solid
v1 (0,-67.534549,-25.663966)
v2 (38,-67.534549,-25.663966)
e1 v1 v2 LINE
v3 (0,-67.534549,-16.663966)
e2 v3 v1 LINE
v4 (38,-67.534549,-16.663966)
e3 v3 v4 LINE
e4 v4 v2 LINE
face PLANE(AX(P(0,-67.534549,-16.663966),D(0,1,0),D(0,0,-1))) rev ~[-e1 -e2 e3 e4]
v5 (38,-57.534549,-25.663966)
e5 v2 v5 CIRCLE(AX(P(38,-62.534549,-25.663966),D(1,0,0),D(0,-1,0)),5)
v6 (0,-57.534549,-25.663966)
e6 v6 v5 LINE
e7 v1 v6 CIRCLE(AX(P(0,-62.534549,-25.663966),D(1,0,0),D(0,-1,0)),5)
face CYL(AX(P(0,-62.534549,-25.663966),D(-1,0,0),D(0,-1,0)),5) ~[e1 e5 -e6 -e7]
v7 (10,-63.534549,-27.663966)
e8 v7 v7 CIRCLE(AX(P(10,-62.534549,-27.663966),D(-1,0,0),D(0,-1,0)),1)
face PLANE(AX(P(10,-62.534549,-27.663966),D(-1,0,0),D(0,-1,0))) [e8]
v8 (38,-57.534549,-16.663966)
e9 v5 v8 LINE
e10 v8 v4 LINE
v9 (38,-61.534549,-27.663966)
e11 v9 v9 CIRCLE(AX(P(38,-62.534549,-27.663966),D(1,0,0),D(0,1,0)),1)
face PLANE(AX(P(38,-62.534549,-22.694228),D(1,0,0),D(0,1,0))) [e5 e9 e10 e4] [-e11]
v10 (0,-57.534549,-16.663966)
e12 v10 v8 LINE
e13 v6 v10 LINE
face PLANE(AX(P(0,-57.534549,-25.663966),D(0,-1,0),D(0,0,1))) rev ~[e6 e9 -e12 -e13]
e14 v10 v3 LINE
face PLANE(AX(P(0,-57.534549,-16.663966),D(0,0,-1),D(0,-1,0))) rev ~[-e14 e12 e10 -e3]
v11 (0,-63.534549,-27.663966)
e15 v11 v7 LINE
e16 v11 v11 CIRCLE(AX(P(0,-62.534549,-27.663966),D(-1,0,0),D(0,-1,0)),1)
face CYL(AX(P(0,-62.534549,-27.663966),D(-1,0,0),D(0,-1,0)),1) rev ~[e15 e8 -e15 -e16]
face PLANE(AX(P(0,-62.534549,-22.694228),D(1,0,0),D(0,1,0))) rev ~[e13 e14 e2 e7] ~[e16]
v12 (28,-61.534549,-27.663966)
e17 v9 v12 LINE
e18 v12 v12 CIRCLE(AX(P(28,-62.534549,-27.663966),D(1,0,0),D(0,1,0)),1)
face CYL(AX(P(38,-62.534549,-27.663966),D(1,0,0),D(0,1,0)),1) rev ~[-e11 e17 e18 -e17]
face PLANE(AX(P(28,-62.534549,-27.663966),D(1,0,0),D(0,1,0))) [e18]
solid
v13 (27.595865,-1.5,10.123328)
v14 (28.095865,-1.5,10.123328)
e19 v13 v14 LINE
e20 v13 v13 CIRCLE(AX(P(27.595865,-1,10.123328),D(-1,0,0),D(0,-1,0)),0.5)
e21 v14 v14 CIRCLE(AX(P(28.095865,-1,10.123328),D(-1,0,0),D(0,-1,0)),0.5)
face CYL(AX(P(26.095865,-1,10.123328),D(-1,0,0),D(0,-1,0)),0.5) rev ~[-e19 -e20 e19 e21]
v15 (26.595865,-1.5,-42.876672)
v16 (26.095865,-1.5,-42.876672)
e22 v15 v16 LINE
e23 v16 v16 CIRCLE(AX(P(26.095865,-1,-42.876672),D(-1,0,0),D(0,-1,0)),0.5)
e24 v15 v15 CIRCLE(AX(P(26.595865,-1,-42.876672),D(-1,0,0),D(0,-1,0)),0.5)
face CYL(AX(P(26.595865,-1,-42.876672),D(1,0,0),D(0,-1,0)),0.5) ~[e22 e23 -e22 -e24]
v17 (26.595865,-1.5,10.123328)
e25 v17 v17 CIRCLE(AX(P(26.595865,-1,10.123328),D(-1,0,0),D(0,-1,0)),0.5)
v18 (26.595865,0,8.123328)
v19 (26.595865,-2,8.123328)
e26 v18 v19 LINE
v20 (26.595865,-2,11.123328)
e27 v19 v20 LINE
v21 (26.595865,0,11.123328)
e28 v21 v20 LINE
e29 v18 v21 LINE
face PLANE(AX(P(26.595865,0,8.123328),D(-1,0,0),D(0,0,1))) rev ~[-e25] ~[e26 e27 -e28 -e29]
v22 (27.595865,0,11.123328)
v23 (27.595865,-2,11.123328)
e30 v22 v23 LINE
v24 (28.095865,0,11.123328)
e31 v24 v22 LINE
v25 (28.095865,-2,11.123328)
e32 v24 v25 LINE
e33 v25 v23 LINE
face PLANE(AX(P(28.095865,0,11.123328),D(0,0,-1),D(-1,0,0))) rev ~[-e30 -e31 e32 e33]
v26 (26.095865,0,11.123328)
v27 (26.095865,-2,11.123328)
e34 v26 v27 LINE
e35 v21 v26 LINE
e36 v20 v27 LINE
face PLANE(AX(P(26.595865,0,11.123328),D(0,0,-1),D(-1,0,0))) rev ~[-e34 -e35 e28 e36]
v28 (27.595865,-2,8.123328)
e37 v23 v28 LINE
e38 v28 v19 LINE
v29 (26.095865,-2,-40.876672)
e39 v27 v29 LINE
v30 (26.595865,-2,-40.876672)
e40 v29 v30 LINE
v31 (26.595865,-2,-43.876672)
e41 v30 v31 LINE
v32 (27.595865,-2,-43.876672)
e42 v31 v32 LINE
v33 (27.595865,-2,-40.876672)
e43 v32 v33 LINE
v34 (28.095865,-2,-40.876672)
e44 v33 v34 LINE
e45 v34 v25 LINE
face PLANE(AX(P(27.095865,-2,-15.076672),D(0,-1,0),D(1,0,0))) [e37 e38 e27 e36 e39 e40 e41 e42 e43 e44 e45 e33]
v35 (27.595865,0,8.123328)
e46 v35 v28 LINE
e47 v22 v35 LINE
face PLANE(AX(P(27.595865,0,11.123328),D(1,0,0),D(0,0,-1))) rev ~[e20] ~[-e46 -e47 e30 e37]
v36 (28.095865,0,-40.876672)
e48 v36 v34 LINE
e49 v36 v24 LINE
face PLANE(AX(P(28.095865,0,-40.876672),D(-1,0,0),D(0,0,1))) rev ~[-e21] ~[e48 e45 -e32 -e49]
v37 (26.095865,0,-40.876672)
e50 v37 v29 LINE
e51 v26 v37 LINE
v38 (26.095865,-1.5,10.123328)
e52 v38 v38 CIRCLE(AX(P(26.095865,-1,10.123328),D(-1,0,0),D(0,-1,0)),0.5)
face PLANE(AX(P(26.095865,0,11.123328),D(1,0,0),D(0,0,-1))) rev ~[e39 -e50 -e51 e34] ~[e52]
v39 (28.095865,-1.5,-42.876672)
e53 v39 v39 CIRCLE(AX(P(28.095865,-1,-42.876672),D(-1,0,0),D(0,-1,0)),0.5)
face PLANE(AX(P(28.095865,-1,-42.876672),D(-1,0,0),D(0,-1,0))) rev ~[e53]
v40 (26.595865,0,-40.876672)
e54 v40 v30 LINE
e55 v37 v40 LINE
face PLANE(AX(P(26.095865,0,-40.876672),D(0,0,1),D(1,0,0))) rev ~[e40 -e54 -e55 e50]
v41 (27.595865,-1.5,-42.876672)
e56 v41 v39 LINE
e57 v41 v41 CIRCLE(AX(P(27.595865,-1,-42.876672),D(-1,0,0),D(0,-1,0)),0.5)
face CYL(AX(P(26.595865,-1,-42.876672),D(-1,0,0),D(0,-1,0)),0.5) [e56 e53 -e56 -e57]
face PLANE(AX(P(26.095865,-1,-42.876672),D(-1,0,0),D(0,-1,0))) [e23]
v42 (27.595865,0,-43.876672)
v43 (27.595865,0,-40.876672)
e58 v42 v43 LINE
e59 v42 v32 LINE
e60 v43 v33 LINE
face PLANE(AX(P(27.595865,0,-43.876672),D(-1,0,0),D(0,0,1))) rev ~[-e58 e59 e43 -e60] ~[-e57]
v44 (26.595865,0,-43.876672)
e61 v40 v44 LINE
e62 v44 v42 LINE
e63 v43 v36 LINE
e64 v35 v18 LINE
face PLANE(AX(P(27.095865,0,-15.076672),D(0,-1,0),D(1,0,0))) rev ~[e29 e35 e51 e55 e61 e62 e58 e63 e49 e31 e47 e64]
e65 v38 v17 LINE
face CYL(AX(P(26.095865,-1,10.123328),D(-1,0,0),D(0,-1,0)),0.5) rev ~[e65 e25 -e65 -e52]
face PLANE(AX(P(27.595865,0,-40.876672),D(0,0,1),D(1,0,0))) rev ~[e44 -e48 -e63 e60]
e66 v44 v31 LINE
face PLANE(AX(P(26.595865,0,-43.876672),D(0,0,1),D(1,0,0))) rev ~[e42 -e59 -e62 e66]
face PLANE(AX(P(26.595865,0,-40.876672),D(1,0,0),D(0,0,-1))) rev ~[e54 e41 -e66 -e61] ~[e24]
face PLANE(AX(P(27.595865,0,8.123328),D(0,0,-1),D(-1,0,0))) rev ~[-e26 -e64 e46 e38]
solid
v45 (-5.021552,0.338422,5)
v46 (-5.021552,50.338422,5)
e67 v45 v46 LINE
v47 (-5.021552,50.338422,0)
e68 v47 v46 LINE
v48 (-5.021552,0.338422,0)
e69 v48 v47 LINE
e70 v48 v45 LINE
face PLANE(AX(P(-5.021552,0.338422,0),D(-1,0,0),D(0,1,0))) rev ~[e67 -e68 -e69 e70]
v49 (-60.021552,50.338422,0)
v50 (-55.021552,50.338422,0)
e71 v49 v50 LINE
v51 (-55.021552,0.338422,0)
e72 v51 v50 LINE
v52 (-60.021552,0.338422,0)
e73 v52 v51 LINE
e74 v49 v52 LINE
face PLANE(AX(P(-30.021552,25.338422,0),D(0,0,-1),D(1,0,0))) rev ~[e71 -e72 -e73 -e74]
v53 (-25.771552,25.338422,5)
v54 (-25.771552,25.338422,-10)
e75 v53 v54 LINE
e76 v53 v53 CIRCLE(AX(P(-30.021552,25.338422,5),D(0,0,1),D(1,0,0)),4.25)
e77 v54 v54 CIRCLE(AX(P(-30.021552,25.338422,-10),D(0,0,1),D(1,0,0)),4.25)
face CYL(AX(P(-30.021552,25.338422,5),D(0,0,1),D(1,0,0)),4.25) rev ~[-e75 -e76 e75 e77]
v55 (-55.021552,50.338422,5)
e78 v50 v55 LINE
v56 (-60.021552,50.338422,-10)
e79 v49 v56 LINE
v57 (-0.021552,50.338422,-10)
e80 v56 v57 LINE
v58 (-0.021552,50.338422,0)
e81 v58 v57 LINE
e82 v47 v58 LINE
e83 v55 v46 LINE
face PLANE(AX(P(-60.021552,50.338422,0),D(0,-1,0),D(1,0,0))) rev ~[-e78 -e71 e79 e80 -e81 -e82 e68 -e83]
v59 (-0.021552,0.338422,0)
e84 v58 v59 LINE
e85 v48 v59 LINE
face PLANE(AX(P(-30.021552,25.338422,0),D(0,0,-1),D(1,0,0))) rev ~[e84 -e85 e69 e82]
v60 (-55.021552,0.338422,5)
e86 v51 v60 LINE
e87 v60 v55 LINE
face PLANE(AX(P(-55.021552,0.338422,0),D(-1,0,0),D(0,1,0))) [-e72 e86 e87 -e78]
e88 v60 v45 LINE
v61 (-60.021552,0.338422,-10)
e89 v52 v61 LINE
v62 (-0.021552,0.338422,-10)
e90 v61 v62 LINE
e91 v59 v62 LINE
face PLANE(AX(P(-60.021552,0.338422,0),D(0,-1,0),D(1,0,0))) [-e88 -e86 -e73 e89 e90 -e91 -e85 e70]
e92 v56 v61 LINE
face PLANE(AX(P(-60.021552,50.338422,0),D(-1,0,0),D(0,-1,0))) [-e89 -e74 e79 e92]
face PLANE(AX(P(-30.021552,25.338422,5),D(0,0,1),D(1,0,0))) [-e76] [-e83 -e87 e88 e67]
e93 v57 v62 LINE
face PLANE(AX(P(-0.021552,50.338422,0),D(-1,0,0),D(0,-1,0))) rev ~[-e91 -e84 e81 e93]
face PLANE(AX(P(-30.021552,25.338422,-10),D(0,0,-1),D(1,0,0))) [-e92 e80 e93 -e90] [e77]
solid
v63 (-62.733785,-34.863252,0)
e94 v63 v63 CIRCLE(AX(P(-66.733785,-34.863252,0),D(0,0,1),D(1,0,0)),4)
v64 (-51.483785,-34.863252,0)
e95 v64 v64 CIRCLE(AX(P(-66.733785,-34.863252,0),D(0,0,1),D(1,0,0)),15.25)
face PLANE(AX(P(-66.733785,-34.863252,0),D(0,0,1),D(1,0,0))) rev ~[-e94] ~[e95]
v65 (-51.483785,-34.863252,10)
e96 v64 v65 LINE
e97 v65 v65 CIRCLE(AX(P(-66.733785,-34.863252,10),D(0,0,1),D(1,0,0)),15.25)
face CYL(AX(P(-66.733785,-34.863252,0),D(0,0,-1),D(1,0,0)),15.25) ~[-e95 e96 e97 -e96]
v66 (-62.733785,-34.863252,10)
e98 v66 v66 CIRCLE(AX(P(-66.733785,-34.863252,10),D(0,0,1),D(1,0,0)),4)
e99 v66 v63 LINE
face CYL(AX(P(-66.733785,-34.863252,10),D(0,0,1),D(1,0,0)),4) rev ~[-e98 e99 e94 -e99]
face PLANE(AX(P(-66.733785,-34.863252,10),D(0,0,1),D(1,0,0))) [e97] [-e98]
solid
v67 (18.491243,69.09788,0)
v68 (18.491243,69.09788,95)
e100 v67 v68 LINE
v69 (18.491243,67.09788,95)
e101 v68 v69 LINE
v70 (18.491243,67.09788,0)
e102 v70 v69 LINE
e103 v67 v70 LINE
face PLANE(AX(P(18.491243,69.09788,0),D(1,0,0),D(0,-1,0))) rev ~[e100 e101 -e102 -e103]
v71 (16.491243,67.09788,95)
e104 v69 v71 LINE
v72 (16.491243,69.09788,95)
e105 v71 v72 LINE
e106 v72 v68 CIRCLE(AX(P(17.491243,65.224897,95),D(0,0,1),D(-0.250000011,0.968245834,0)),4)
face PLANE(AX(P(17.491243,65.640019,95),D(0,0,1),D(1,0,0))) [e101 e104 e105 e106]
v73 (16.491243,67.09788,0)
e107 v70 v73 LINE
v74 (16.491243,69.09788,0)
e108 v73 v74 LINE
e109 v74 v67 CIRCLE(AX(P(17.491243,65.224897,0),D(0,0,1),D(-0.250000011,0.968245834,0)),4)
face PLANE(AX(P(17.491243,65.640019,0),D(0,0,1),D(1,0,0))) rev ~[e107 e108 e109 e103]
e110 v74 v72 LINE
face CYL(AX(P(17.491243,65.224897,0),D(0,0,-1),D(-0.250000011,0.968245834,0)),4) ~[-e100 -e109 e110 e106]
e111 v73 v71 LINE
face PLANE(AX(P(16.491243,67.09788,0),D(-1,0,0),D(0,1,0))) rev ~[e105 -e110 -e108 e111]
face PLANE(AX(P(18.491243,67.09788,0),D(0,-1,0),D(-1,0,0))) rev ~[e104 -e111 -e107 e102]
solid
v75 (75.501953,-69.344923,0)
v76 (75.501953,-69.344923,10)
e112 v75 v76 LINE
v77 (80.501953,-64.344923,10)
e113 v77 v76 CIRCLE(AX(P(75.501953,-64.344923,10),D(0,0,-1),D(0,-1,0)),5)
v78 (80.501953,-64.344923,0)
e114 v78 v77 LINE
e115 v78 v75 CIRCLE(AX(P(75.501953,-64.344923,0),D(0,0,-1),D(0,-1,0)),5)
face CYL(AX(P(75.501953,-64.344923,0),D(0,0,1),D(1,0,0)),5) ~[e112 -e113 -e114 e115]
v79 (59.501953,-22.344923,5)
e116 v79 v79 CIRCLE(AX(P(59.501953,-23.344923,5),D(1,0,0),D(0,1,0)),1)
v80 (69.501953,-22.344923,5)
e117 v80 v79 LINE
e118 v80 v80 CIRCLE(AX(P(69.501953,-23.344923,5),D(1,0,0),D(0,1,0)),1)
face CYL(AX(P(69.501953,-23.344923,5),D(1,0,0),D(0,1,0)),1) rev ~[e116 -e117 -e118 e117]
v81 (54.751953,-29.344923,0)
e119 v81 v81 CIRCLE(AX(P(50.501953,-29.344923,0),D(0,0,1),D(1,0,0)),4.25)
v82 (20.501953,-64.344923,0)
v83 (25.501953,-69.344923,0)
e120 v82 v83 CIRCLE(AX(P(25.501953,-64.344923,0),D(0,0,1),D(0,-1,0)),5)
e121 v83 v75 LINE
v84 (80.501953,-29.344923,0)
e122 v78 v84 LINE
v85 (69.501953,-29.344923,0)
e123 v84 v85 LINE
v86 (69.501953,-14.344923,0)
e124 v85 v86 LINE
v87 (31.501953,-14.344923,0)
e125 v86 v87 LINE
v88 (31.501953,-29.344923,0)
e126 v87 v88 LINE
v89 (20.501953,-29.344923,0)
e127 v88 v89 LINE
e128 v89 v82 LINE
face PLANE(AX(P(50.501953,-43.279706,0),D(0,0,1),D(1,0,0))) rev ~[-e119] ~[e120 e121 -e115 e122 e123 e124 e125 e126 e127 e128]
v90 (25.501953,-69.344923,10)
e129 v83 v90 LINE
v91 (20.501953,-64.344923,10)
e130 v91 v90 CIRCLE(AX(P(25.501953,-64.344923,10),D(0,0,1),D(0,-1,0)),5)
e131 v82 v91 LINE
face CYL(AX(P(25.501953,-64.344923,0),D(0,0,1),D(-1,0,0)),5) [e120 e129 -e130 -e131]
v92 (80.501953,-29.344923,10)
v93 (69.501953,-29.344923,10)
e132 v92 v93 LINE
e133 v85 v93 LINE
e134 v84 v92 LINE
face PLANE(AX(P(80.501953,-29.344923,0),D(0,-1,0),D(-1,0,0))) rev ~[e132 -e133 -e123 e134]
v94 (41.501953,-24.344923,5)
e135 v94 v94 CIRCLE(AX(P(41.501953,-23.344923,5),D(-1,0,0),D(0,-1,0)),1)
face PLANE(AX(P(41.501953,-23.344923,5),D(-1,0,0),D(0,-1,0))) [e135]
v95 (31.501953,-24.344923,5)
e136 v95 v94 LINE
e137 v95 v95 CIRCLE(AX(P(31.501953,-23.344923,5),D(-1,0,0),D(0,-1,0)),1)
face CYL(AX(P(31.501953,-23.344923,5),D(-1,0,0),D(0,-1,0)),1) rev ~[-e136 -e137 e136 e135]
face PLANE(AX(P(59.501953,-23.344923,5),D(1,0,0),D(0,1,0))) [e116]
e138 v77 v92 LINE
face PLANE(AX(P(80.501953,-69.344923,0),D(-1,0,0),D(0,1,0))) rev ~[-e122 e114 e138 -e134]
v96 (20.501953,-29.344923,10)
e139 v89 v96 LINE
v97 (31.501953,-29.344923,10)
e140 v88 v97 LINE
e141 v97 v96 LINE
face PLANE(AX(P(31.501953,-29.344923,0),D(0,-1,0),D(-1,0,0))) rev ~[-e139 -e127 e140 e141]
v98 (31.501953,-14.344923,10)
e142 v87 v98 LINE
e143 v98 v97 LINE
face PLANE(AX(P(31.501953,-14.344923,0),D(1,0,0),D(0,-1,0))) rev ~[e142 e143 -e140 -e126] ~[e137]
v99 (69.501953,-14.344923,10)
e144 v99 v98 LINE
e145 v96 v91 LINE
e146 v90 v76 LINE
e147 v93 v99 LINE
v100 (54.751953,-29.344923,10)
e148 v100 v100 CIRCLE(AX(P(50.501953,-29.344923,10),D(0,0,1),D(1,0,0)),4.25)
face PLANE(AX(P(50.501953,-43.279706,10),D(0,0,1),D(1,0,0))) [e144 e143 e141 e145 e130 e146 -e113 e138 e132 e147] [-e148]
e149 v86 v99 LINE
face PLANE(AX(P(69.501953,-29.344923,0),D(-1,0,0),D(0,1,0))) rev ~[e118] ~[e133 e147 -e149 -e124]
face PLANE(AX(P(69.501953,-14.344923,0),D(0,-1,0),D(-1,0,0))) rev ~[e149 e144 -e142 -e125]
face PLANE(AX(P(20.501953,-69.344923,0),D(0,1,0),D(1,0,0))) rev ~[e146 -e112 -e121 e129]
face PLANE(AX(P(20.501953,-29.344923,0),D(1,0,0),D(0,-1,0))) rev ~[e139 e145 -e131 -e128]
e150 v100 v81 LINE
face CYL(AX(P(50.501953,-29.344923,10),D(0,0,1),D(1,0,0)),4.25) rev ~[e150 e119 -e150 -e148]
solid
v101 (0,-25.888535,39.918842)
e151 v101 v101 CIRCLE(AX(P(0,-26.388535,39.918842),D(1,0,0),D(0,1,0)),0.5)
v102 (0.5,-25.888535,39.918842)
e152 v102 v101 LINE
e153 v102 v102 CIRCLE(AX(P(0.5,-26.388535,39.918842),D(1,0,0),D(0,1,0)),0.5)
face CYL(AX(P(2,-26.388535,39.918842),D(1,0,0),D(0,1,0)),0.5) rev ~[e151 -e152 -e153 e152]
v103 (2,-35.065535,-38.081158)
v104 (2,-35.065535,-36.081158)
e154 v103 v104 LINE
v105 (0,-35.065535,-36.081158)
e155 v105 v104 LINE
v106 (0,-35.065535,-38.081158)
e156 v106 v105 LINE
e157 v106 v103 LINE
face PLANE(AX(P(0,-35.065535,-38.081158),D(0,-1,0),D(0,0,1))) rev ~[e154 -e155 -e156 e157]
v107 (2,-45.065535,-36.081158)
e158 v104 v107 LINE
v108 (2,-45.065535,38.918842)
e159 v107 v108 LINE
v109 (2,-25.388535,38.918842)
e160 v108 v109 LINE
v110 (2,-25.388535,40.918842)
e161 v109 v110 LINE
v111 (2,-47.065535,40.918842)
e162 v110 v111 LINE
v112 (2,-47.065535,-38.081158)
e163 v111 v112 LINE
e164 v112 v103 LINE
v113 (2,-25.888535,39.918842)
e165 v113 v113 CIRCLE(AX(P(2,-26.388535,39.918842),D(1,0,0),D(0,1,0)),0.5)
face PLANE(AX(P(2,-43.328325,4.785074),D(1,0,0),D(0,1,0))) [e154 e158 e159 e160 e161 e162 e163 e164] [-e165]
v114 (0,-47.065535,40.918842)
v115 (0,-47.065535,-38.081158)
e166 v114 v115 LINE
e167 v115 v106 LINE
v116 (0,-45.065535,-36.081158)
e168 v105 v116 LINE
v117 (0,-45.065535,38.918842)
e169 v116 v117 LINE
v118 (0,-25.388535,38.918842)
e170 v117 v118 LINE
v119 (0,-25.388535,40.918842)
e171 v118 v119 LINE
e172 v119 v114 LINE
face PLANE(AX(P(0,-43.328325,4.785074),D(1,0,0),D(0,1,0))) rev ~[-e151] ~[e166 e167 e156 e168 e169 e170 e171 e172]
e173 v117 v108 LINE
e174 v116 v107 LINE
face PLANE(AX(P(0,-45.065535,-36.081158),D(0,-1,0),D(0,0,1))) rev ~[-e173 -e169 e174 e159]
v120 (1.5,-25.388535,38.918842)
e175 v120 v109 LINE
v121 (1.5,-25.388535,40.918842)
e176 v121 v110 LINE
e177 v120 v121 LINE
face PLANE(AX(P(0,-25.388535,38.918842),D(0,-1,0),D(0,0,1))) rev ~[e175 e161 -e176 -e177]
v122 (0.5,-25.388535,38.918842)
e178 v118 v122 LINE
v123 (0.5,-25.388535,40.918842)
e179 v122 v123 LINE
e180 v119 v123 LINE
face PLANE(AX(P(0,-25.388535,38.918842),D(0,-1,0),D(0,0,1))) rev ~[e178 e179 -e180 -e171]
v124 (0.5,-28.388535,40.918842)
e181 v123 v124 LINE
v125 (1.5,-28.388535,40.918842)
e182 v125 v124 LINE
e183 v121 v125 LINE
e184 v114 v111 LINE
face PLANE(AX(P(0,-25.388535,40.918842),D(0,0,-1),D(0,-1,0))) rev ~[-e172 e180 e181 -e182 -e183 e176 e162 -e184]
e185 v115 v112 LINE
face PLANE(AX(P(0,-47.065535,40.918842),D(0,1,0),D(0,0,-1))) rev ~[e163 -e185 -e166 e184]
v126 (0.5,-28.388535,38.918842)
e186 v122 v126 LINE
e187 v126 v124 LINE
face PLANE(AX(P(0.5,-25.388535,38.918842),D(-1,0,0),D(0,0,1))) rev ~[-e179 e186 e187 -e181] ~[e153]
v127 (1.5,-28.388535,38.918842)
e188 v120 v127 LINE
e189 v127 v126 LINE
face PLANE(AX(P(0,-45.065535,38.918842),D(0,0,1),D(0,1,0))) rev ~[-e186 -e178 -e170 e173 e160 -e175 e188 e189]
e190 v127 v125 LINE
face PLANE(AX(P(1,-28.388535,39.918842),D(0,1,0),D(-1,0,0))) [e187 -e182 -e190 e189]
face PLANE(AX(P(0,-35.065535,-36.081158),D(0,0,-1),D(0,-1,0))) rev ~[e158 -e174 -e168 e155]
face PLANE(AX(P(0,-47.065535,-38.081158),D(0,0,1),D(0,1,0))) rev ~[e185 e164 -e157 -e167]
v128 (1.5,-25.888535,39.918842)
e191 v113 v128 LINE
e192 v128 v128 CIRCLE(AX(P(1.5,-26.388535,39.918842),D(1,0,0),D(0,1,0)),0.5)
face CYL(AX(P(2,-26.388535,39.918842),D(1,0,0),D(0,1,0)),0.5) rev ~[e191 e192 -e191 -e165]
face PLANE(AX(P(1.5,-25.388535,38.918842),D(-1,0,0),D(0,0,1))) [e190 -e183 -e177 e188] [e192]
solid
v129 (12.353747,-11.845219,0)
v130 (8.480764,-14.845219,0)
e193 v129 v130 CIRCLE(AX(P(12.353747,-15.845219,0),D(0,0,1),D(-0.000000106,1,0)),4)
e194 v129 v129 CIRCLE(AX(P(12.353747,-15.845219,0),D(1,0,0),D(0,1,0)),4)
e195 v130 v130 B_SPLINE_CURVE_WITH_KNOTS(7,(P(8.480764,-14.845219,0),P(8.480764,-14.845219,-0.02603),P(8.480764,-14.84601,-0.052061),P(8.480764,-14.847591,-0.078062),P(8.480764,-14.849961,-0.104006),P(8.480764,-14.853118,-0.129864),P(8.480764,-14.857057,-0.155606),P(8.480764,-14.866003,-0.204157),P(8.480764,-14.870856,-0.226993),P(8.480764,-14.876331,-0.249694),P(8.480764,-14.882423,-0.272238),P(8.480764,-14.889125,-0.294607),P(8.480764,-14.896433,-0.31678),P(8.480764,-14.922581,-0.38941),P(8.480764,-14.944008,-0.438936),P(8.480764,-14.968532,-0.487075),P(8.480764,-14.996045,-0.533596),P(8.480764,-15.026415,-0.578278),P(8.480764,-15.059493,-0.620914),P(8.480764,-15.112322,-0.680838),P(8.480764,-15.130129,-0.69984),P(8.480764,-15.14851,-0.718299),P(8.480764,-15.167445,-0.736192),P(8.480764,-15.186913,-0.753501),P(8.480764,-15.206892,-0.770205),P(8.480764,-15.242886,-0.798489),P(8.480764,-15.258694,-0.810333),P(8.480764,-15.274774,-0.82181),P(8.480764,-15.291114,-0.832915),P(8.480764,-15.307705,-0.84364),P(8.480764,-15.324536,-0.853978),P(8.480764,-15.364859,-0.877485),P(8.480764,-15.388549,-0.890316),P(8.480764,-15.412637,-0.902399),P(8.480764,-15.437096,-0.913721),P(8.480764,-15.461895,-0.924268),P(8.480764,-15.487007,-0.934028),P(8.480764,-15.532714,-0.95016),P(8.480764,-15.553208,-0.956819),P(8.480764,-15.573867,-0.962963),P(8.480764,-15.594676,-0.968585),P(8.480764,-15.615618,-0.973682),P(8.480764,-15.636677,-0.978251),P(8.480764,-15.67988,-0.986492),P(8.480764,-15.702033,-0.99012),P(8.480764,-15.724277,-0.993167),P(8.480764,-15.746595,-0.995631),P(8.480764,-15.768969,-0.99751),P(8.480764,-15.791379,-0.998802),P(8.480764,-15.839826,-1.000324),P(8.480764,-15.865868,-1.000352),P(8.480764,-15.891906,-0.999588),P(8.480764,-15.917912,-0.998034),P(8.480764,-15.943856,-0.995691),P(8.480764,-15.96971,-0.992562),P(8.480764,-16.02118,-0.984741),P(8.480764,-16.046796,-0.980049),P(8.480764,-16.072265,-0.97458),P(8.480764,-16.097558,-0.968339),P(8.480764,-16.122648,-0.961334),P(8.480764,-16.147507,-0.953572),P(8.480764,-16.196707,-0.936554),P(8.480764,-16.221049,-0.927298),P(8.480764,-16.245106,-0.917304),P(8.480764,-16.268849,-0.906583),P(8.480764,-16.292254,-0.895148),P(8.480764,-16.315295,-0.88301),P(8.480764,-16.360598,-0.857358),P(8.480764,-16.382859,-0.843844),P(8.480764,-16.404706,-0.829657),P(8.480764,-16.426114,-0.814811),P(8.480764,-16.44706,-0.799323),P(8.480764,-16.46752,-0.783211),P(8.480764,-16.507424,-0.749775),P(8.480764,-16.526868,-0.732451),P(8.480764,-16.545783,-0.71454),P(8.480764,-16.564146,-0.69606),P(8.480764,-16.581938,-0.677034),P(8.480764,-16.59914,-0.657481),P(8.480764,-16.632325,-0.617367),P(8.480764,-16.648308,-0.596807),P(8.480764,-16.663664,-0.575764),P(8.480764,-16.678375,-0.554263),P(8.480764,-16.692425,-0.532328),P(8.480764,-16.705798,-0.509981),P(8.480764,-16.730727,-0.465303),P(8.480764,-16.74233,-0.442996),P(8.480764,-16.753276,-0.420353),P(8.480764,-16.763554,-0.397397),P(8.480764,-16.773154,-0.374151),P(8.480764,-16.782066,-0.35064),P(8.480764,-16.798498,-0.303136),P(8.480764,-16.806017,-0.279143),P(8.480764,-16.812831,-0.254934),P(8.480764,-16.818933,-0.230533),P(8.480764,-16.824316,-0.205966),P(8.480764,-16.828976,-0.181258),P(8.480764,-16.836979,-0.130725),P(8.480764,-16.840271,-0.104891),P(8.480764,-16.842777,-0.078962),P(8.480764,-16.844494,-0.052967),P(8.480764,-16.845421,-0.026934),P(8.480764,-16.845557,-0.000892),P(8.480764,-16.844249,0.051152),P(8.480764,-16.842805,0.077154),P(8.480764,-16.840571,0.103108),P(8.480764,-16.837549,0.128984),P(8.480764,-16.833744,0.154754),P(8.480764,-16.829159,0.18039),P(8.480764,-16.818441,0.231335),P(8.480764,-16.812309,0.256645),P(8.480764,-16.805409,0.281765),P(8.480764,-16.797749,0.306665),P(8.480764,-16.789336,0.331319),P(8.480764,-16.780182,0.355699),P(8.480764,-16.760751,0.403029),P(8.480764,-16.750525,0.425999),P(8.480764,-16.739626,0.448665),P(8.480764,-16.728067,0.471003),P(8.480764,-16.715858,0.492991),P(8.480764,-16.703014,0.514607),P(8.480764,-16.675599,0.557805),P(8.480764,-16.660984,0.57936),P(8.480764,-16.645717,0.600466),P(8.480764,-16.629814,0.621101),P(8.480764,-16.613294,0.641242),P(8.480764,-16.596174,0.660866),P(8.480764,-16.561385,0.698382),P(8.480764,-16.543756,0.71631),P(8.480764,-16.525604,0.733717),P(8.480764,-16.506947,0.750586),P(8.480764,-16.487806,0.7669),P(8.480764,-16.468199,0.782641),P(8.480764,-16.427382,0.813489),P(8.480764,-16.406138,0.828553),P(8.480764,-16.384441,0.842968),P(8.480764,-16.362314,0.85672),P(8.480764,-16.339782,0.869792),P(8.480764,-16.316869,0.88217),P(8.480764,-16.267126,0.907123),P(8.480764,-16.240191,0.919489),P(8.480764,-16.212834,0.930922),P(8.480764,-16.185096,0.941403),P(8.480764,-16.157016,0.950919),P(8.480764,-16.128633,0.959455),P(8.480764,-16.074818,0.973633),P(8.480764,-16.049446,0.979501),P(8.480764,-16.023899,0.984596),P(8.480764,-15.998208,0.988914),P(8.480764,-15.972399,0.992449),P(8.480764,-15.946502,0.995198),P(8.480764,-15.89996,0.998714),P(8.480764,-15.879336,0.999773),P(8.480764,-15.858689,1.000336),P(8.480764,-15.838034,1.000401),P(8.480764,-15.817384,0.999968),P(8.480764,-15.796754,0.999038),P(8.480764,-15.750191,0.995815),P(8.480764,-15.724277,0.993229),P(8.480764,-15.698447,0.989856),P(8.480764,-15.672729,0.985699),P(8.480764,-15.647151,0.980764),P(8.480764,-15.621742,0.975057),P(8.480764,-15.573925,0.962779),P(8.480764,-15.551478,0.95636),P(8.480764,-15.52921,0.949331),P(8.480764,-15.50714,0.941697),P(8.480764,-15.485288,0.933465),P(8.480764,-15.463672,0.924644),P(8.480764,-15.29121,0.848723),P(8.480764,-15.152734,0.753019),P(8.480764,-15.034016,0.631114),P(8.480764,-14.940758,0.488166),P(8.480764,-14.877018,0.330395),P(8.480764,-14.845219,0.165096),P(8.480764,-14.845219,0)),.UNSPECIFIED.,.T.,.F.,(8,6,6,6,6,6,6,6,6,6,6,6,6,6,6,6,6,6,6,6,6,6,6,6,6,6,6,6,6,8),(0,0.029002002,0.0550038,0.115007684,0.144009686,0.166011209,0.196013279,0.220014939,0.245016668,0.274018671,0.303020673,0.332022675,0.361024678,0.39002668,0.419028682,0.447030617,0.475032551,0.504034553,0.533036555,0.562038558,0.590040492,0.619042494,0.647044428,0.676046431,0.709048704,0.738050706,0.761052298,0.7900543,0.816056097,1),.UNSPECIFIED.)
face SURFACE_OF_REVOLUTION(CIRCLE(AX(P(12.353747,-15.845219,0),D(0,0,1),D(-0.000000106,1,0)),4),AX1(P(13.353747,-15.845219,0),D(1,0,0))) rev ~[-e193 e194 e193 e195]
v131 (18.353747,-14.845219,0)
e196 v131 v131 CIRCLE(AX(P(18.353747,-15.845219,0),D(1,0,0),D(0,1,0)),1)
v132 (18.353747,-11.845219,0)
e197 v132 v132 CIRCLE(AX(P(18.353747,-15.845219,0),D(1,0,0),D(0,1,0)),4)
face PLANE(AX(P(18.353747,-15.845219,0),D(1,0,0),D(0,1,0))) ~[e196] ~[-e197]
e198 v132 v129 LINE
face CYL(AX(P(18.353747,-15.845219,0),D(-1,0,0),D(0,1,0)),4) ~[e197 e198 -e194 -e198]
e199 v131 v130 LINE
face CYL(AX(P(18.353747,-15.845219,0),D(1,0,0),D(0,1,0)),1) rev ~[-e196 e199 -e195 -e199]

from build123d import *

# Parameters (mm, degrees)
F0_W           = 50
F0_H           = 50
F1_DEPTH       = 5
F2_W           = 60
F2_H           = 50
F3_DEPTH       = 10
F4_R           = 4.25
F5_DEPTH       = 15.001
F7_DEPTH       = 95
F9_DEPTH       = 2
F10_W          = 1
F10_H          = 2
F11_DEPTH      = 3
F12_R          = 0.5
F13_DEPTH      = 62.022552
F15_DEPTH      = 2
F16_R          = 0.5
F17_DEPTH      = 2.001
F18_R          = 0.5
F19_DEPTH      = 0.5
F19_DEPTH_BACK = 1.5
F20_R          = 15.25
F21_DEPTH      = 10
F22_R          = 4
F23_DEPTH      = 53.877672
F24_R          = 4.25
F25_DEPTH      = 25
F26_R          = 1
F27_DEPTH      = 10
F28_R          = 1
F29_DEPTH      = 10
F31_DEPTH      = 38
F32_R          = 1
F33_DEPTH      = 10
F34_R          = 1
F35_DEPTH      = 10
F36_R          = 5
F39_R          = 1
F40_DEPTH      = 25


with BuildPart() as f1:
    # F0 (on Top) → F1 (new body)
    with BuildSketch(Plane.XY):
        with Locations((-30.021552, 25.338422)):
            Rectangle(F0_W, F0_H)
    extrude(amount=F1_DEPTH)

    # F2 (on face) → F3 (join)
    with BuildSketch(Plane(origin=(0, 0, 0), x_dir=(1, 0, 0), z_dir=(0, 0, -1))):
        with Locations((-30.021552, -25.338422)):
            Rectangle(F2_W, F2_H)
    extrude(amount=F3_DEPTH)

    # F4 (on face) → F5 (cut, through all)
    with BuildSketch(Plane.XY.offset(5)):
        with Locations((-30.021552, 25.338422)):
            Circle(F4_R)
    extrude(amount=-F5_DEPTH, mode=Mode.SUBTRACT)


with BuildPart() as f7:
    # F6 (on Top) → F7 (new body)
    with BuildSketch(Plane.XY):
        with BuildLine():
            Line((16.491243, 67.09788), (16.491243, 69.09788))
            ThreePointArc((16.491243, 69.09788), (17.491243, 61.224897), (18.491243, 69.09788))
            Line((18.491243, 69.09788), (18.491243, 67.09788))
            Line((18.491243, 67.09788), (16.491243, 67.09788))
        make_face()
    extrude(amount=F7_DEPTH)


with BuildPart() as f9:
    # F8 (on Right) → F9 (new body)
    with BuildSketch(Plane.YZ):
        Polygon((-47.065535, 40.918842), (-47.065535, -38.081158), (-35.065535, -38.081158), (-35.065535, -36.081158), (-45.065535, -36.081158), (-45.065535, 38.918842), (-25.388535, 38.918842), (-25.388535, 40.918842), align=None)
    extrude(amount=F9_DEPTH)

    # F10 (on face) → F11 (cut)
    with BuildSketch(Plane(origin=(0, -25.388535, 0), x_dir=(-1, 0, 0), z_dir=(0, 1, 0))):
        with Locations((-1, 39.918842)):
            Rectangle(F10_W, F10_H)
    extrude(amount=-F11_DEPTH, mode=Mode.SUBTRACT)

    # F12 (on face) → F13 (cut, through all)
    with BuildSketch(Plane.YZ.offset(2)):
        with Locations((-26.388535, 39.918842)):
            Circle(F12_R)
    extrude(amount=-F13_DEPTH, mode=Mode.SUBTRACT)


with BuildPart() as f15:
    # F14 (on Front) → F15 (new body)
    with BuildSketch(Plane.XZ):
        Polygon((26.595865, 11.123328), (26.095865, 11.123328), (26.095865, -40.876672), (26.595865, -40.876672), (26.595865, -43.876672), (27.595865, -43.876672), (27.595865, -40.876672), (28.095865, -40.876672), (28.095865, 11.123328), (27.595865, 11.123328), (27.595865, 8.123328), (26.595865, 8.123328), align=None)
    extrude(amount=F15_DEPTH)

    # F16 (on face) → F17 (cut, through all)
    with BuildSketch(Plane(origin=(26.095865, 0, 0), x_dir=(0, -1, 0), z_dir=(-1, 0, 0))):
        with Locations((1, 10.123328)):
            Circle(F16_R)
    extrude(amount=-F17_DEPTH, mode=Mode.SUBTRACT)

    # F18 (on face) → F19 (join, two sides)
    with BuildSketch(Plane(origin=(26.595865, 0, 0), x_dir=(0, -1, 0), z_dir=(-1, 0, 0))) as f19_sk:
        with Locations((1, -42.876672)):
            Circle(F18_R)
    extrude(amount=F19_DEPTH)
    extrude(f19_sk.sketch, amount=-F19_DEPTH_BACK)


with BuildPart() as f21:
    # F20 (on Top) → F21 (new body)
    with BuildSketch(Plane.XY):
        with Locations((-66.733785, -34.863252)):
            Circle(F20_R)
        Polygon((69.501953, -14.344923), (31.501953, -14.344923), (31.501953, -29.344923), (20.501953, -29.344923), (20.501953, -69.344923), (80.501953, -69.344923), (80.501953, -29.344923), (69.501953, -29.344923), align=None)
    extrude(amount=F21_DEPTH)

    # F22 (on face) → F23 (cut, through all)
    with BuildSketch(Plane.XY.offset(10)):
        with Locations((-66.733785, -34.863252)):
            Circle(F22_R)
    extrude(amount=-F23_DEPTH, mode=Mode.SUBTRACT)

    # F24 (on face) → F25 (cut)
    with BuildSketch(Plane.XY.offset(10)):
        with Locations((50.501953, -29.344923)):
            Circle(F24_R)
    extrude(amount=-F25_DEPTH, mode=Mode.SUBTRACT)

    # F26 (on face) → F27 (cut)
    with BuildSketch(Plane.YZ.offset(69.501953)):
        with Locations((-23.344923, 5)):
            Circle(F26_R)
    extrude(amount=-F27_DEPTH, mode=Mode.SUBTRACT)

    # F28 (on face) → F29 (cut)
    with BuildSketch(Plane(origin=(31.501953, 0, 0), x_dir=(0, -1, 0), z_dir=(-1, 0, 0))):
        with Locations((23.344923, 5)):
            Circle(F28_R)
    extrude(amount=-F29_DEPTH, mode=Mode.SUBTRACT)

    # F36
    f36_edges = [f21.edges().sort_by_distance(p)[0] for p in [
        (80.501953, -69.344923, 5),
        (20.501953, -69.344923, 5),
    ]]
    fillet(f36_edges, radius=F36_R)


with BuildPart() as f31:
    # F30 (on Right) → F31 (new body)
    with BuildSketch(Plane.YZ):
        with BuildLine():
            Line((-67.534549, -16.663966), (-67.534549, -25.663966))
            ThreePointArc((-67.534549, -25.663966), (-62.534549, -30.663966), (-57.534549, -25.663966))
            Line((-57.534549, -25.663966), (-57.534549, -16.663966))
            Line((-57.534549, -16.663966), (-67.534549, -16.663966))
        make_face()
    extrude(amount=F31_DEPTH)

    # F32 (on face) → F33 (cut)
    with BuildSketch(Plane(origin=(0, 0, 0), x_dir=(0, -1, 0), z_dir=(-1, 0, 0))):
        with Locations((62.534549, -27.663966)):
            Circle(F32_R)
    extrude(amount=-F33_DEPTH, mode=Mode.SUBTRACT)

    # F34 (on face) → F35 (cut)
    with BuildSketch(Plane.YZ.offset(38)):
        with Locations((-62.534549, -27.663966)):
            Circle(F34_R)
    extrude(amount=-F35_DEPTH, mode=Mode.SUBTRACT)


with BuildPart() as f38:
    # F37 (on Top) → F38 (revolve)
    with BuildSketch(Plane.XY):
        with BuildLine():
            ThreePointArc((12.353747, -11.845219), (9.52532, -13.016792), (8.353747, -15.845219))
            Line((8.353747, -15.845219), (18.353747, -15.845219))
            Line((18.353747, -15.845219), (18.353747, -11.845219))
            Line((18.353747, -11.845219), (12.353747, -11.845219))
        make_face()
    revolve(axis=Axis((13.353747, -15.845219, 0), (1, 0, 0)))

    # F39 (on face) → F40 (cut)
    with BuildSketch(Plane.YZ.offset(18.353747)):
        with Locations((-15.845219, 0)):
            Circle(F39_R)
    extrude(amount=-F40_DEPTH, mode=Mode.SUBTRACT)


solid = Compound([f1.part, f7.part, f9.part, f15.part, f21.part, f31.part, f38.part])
